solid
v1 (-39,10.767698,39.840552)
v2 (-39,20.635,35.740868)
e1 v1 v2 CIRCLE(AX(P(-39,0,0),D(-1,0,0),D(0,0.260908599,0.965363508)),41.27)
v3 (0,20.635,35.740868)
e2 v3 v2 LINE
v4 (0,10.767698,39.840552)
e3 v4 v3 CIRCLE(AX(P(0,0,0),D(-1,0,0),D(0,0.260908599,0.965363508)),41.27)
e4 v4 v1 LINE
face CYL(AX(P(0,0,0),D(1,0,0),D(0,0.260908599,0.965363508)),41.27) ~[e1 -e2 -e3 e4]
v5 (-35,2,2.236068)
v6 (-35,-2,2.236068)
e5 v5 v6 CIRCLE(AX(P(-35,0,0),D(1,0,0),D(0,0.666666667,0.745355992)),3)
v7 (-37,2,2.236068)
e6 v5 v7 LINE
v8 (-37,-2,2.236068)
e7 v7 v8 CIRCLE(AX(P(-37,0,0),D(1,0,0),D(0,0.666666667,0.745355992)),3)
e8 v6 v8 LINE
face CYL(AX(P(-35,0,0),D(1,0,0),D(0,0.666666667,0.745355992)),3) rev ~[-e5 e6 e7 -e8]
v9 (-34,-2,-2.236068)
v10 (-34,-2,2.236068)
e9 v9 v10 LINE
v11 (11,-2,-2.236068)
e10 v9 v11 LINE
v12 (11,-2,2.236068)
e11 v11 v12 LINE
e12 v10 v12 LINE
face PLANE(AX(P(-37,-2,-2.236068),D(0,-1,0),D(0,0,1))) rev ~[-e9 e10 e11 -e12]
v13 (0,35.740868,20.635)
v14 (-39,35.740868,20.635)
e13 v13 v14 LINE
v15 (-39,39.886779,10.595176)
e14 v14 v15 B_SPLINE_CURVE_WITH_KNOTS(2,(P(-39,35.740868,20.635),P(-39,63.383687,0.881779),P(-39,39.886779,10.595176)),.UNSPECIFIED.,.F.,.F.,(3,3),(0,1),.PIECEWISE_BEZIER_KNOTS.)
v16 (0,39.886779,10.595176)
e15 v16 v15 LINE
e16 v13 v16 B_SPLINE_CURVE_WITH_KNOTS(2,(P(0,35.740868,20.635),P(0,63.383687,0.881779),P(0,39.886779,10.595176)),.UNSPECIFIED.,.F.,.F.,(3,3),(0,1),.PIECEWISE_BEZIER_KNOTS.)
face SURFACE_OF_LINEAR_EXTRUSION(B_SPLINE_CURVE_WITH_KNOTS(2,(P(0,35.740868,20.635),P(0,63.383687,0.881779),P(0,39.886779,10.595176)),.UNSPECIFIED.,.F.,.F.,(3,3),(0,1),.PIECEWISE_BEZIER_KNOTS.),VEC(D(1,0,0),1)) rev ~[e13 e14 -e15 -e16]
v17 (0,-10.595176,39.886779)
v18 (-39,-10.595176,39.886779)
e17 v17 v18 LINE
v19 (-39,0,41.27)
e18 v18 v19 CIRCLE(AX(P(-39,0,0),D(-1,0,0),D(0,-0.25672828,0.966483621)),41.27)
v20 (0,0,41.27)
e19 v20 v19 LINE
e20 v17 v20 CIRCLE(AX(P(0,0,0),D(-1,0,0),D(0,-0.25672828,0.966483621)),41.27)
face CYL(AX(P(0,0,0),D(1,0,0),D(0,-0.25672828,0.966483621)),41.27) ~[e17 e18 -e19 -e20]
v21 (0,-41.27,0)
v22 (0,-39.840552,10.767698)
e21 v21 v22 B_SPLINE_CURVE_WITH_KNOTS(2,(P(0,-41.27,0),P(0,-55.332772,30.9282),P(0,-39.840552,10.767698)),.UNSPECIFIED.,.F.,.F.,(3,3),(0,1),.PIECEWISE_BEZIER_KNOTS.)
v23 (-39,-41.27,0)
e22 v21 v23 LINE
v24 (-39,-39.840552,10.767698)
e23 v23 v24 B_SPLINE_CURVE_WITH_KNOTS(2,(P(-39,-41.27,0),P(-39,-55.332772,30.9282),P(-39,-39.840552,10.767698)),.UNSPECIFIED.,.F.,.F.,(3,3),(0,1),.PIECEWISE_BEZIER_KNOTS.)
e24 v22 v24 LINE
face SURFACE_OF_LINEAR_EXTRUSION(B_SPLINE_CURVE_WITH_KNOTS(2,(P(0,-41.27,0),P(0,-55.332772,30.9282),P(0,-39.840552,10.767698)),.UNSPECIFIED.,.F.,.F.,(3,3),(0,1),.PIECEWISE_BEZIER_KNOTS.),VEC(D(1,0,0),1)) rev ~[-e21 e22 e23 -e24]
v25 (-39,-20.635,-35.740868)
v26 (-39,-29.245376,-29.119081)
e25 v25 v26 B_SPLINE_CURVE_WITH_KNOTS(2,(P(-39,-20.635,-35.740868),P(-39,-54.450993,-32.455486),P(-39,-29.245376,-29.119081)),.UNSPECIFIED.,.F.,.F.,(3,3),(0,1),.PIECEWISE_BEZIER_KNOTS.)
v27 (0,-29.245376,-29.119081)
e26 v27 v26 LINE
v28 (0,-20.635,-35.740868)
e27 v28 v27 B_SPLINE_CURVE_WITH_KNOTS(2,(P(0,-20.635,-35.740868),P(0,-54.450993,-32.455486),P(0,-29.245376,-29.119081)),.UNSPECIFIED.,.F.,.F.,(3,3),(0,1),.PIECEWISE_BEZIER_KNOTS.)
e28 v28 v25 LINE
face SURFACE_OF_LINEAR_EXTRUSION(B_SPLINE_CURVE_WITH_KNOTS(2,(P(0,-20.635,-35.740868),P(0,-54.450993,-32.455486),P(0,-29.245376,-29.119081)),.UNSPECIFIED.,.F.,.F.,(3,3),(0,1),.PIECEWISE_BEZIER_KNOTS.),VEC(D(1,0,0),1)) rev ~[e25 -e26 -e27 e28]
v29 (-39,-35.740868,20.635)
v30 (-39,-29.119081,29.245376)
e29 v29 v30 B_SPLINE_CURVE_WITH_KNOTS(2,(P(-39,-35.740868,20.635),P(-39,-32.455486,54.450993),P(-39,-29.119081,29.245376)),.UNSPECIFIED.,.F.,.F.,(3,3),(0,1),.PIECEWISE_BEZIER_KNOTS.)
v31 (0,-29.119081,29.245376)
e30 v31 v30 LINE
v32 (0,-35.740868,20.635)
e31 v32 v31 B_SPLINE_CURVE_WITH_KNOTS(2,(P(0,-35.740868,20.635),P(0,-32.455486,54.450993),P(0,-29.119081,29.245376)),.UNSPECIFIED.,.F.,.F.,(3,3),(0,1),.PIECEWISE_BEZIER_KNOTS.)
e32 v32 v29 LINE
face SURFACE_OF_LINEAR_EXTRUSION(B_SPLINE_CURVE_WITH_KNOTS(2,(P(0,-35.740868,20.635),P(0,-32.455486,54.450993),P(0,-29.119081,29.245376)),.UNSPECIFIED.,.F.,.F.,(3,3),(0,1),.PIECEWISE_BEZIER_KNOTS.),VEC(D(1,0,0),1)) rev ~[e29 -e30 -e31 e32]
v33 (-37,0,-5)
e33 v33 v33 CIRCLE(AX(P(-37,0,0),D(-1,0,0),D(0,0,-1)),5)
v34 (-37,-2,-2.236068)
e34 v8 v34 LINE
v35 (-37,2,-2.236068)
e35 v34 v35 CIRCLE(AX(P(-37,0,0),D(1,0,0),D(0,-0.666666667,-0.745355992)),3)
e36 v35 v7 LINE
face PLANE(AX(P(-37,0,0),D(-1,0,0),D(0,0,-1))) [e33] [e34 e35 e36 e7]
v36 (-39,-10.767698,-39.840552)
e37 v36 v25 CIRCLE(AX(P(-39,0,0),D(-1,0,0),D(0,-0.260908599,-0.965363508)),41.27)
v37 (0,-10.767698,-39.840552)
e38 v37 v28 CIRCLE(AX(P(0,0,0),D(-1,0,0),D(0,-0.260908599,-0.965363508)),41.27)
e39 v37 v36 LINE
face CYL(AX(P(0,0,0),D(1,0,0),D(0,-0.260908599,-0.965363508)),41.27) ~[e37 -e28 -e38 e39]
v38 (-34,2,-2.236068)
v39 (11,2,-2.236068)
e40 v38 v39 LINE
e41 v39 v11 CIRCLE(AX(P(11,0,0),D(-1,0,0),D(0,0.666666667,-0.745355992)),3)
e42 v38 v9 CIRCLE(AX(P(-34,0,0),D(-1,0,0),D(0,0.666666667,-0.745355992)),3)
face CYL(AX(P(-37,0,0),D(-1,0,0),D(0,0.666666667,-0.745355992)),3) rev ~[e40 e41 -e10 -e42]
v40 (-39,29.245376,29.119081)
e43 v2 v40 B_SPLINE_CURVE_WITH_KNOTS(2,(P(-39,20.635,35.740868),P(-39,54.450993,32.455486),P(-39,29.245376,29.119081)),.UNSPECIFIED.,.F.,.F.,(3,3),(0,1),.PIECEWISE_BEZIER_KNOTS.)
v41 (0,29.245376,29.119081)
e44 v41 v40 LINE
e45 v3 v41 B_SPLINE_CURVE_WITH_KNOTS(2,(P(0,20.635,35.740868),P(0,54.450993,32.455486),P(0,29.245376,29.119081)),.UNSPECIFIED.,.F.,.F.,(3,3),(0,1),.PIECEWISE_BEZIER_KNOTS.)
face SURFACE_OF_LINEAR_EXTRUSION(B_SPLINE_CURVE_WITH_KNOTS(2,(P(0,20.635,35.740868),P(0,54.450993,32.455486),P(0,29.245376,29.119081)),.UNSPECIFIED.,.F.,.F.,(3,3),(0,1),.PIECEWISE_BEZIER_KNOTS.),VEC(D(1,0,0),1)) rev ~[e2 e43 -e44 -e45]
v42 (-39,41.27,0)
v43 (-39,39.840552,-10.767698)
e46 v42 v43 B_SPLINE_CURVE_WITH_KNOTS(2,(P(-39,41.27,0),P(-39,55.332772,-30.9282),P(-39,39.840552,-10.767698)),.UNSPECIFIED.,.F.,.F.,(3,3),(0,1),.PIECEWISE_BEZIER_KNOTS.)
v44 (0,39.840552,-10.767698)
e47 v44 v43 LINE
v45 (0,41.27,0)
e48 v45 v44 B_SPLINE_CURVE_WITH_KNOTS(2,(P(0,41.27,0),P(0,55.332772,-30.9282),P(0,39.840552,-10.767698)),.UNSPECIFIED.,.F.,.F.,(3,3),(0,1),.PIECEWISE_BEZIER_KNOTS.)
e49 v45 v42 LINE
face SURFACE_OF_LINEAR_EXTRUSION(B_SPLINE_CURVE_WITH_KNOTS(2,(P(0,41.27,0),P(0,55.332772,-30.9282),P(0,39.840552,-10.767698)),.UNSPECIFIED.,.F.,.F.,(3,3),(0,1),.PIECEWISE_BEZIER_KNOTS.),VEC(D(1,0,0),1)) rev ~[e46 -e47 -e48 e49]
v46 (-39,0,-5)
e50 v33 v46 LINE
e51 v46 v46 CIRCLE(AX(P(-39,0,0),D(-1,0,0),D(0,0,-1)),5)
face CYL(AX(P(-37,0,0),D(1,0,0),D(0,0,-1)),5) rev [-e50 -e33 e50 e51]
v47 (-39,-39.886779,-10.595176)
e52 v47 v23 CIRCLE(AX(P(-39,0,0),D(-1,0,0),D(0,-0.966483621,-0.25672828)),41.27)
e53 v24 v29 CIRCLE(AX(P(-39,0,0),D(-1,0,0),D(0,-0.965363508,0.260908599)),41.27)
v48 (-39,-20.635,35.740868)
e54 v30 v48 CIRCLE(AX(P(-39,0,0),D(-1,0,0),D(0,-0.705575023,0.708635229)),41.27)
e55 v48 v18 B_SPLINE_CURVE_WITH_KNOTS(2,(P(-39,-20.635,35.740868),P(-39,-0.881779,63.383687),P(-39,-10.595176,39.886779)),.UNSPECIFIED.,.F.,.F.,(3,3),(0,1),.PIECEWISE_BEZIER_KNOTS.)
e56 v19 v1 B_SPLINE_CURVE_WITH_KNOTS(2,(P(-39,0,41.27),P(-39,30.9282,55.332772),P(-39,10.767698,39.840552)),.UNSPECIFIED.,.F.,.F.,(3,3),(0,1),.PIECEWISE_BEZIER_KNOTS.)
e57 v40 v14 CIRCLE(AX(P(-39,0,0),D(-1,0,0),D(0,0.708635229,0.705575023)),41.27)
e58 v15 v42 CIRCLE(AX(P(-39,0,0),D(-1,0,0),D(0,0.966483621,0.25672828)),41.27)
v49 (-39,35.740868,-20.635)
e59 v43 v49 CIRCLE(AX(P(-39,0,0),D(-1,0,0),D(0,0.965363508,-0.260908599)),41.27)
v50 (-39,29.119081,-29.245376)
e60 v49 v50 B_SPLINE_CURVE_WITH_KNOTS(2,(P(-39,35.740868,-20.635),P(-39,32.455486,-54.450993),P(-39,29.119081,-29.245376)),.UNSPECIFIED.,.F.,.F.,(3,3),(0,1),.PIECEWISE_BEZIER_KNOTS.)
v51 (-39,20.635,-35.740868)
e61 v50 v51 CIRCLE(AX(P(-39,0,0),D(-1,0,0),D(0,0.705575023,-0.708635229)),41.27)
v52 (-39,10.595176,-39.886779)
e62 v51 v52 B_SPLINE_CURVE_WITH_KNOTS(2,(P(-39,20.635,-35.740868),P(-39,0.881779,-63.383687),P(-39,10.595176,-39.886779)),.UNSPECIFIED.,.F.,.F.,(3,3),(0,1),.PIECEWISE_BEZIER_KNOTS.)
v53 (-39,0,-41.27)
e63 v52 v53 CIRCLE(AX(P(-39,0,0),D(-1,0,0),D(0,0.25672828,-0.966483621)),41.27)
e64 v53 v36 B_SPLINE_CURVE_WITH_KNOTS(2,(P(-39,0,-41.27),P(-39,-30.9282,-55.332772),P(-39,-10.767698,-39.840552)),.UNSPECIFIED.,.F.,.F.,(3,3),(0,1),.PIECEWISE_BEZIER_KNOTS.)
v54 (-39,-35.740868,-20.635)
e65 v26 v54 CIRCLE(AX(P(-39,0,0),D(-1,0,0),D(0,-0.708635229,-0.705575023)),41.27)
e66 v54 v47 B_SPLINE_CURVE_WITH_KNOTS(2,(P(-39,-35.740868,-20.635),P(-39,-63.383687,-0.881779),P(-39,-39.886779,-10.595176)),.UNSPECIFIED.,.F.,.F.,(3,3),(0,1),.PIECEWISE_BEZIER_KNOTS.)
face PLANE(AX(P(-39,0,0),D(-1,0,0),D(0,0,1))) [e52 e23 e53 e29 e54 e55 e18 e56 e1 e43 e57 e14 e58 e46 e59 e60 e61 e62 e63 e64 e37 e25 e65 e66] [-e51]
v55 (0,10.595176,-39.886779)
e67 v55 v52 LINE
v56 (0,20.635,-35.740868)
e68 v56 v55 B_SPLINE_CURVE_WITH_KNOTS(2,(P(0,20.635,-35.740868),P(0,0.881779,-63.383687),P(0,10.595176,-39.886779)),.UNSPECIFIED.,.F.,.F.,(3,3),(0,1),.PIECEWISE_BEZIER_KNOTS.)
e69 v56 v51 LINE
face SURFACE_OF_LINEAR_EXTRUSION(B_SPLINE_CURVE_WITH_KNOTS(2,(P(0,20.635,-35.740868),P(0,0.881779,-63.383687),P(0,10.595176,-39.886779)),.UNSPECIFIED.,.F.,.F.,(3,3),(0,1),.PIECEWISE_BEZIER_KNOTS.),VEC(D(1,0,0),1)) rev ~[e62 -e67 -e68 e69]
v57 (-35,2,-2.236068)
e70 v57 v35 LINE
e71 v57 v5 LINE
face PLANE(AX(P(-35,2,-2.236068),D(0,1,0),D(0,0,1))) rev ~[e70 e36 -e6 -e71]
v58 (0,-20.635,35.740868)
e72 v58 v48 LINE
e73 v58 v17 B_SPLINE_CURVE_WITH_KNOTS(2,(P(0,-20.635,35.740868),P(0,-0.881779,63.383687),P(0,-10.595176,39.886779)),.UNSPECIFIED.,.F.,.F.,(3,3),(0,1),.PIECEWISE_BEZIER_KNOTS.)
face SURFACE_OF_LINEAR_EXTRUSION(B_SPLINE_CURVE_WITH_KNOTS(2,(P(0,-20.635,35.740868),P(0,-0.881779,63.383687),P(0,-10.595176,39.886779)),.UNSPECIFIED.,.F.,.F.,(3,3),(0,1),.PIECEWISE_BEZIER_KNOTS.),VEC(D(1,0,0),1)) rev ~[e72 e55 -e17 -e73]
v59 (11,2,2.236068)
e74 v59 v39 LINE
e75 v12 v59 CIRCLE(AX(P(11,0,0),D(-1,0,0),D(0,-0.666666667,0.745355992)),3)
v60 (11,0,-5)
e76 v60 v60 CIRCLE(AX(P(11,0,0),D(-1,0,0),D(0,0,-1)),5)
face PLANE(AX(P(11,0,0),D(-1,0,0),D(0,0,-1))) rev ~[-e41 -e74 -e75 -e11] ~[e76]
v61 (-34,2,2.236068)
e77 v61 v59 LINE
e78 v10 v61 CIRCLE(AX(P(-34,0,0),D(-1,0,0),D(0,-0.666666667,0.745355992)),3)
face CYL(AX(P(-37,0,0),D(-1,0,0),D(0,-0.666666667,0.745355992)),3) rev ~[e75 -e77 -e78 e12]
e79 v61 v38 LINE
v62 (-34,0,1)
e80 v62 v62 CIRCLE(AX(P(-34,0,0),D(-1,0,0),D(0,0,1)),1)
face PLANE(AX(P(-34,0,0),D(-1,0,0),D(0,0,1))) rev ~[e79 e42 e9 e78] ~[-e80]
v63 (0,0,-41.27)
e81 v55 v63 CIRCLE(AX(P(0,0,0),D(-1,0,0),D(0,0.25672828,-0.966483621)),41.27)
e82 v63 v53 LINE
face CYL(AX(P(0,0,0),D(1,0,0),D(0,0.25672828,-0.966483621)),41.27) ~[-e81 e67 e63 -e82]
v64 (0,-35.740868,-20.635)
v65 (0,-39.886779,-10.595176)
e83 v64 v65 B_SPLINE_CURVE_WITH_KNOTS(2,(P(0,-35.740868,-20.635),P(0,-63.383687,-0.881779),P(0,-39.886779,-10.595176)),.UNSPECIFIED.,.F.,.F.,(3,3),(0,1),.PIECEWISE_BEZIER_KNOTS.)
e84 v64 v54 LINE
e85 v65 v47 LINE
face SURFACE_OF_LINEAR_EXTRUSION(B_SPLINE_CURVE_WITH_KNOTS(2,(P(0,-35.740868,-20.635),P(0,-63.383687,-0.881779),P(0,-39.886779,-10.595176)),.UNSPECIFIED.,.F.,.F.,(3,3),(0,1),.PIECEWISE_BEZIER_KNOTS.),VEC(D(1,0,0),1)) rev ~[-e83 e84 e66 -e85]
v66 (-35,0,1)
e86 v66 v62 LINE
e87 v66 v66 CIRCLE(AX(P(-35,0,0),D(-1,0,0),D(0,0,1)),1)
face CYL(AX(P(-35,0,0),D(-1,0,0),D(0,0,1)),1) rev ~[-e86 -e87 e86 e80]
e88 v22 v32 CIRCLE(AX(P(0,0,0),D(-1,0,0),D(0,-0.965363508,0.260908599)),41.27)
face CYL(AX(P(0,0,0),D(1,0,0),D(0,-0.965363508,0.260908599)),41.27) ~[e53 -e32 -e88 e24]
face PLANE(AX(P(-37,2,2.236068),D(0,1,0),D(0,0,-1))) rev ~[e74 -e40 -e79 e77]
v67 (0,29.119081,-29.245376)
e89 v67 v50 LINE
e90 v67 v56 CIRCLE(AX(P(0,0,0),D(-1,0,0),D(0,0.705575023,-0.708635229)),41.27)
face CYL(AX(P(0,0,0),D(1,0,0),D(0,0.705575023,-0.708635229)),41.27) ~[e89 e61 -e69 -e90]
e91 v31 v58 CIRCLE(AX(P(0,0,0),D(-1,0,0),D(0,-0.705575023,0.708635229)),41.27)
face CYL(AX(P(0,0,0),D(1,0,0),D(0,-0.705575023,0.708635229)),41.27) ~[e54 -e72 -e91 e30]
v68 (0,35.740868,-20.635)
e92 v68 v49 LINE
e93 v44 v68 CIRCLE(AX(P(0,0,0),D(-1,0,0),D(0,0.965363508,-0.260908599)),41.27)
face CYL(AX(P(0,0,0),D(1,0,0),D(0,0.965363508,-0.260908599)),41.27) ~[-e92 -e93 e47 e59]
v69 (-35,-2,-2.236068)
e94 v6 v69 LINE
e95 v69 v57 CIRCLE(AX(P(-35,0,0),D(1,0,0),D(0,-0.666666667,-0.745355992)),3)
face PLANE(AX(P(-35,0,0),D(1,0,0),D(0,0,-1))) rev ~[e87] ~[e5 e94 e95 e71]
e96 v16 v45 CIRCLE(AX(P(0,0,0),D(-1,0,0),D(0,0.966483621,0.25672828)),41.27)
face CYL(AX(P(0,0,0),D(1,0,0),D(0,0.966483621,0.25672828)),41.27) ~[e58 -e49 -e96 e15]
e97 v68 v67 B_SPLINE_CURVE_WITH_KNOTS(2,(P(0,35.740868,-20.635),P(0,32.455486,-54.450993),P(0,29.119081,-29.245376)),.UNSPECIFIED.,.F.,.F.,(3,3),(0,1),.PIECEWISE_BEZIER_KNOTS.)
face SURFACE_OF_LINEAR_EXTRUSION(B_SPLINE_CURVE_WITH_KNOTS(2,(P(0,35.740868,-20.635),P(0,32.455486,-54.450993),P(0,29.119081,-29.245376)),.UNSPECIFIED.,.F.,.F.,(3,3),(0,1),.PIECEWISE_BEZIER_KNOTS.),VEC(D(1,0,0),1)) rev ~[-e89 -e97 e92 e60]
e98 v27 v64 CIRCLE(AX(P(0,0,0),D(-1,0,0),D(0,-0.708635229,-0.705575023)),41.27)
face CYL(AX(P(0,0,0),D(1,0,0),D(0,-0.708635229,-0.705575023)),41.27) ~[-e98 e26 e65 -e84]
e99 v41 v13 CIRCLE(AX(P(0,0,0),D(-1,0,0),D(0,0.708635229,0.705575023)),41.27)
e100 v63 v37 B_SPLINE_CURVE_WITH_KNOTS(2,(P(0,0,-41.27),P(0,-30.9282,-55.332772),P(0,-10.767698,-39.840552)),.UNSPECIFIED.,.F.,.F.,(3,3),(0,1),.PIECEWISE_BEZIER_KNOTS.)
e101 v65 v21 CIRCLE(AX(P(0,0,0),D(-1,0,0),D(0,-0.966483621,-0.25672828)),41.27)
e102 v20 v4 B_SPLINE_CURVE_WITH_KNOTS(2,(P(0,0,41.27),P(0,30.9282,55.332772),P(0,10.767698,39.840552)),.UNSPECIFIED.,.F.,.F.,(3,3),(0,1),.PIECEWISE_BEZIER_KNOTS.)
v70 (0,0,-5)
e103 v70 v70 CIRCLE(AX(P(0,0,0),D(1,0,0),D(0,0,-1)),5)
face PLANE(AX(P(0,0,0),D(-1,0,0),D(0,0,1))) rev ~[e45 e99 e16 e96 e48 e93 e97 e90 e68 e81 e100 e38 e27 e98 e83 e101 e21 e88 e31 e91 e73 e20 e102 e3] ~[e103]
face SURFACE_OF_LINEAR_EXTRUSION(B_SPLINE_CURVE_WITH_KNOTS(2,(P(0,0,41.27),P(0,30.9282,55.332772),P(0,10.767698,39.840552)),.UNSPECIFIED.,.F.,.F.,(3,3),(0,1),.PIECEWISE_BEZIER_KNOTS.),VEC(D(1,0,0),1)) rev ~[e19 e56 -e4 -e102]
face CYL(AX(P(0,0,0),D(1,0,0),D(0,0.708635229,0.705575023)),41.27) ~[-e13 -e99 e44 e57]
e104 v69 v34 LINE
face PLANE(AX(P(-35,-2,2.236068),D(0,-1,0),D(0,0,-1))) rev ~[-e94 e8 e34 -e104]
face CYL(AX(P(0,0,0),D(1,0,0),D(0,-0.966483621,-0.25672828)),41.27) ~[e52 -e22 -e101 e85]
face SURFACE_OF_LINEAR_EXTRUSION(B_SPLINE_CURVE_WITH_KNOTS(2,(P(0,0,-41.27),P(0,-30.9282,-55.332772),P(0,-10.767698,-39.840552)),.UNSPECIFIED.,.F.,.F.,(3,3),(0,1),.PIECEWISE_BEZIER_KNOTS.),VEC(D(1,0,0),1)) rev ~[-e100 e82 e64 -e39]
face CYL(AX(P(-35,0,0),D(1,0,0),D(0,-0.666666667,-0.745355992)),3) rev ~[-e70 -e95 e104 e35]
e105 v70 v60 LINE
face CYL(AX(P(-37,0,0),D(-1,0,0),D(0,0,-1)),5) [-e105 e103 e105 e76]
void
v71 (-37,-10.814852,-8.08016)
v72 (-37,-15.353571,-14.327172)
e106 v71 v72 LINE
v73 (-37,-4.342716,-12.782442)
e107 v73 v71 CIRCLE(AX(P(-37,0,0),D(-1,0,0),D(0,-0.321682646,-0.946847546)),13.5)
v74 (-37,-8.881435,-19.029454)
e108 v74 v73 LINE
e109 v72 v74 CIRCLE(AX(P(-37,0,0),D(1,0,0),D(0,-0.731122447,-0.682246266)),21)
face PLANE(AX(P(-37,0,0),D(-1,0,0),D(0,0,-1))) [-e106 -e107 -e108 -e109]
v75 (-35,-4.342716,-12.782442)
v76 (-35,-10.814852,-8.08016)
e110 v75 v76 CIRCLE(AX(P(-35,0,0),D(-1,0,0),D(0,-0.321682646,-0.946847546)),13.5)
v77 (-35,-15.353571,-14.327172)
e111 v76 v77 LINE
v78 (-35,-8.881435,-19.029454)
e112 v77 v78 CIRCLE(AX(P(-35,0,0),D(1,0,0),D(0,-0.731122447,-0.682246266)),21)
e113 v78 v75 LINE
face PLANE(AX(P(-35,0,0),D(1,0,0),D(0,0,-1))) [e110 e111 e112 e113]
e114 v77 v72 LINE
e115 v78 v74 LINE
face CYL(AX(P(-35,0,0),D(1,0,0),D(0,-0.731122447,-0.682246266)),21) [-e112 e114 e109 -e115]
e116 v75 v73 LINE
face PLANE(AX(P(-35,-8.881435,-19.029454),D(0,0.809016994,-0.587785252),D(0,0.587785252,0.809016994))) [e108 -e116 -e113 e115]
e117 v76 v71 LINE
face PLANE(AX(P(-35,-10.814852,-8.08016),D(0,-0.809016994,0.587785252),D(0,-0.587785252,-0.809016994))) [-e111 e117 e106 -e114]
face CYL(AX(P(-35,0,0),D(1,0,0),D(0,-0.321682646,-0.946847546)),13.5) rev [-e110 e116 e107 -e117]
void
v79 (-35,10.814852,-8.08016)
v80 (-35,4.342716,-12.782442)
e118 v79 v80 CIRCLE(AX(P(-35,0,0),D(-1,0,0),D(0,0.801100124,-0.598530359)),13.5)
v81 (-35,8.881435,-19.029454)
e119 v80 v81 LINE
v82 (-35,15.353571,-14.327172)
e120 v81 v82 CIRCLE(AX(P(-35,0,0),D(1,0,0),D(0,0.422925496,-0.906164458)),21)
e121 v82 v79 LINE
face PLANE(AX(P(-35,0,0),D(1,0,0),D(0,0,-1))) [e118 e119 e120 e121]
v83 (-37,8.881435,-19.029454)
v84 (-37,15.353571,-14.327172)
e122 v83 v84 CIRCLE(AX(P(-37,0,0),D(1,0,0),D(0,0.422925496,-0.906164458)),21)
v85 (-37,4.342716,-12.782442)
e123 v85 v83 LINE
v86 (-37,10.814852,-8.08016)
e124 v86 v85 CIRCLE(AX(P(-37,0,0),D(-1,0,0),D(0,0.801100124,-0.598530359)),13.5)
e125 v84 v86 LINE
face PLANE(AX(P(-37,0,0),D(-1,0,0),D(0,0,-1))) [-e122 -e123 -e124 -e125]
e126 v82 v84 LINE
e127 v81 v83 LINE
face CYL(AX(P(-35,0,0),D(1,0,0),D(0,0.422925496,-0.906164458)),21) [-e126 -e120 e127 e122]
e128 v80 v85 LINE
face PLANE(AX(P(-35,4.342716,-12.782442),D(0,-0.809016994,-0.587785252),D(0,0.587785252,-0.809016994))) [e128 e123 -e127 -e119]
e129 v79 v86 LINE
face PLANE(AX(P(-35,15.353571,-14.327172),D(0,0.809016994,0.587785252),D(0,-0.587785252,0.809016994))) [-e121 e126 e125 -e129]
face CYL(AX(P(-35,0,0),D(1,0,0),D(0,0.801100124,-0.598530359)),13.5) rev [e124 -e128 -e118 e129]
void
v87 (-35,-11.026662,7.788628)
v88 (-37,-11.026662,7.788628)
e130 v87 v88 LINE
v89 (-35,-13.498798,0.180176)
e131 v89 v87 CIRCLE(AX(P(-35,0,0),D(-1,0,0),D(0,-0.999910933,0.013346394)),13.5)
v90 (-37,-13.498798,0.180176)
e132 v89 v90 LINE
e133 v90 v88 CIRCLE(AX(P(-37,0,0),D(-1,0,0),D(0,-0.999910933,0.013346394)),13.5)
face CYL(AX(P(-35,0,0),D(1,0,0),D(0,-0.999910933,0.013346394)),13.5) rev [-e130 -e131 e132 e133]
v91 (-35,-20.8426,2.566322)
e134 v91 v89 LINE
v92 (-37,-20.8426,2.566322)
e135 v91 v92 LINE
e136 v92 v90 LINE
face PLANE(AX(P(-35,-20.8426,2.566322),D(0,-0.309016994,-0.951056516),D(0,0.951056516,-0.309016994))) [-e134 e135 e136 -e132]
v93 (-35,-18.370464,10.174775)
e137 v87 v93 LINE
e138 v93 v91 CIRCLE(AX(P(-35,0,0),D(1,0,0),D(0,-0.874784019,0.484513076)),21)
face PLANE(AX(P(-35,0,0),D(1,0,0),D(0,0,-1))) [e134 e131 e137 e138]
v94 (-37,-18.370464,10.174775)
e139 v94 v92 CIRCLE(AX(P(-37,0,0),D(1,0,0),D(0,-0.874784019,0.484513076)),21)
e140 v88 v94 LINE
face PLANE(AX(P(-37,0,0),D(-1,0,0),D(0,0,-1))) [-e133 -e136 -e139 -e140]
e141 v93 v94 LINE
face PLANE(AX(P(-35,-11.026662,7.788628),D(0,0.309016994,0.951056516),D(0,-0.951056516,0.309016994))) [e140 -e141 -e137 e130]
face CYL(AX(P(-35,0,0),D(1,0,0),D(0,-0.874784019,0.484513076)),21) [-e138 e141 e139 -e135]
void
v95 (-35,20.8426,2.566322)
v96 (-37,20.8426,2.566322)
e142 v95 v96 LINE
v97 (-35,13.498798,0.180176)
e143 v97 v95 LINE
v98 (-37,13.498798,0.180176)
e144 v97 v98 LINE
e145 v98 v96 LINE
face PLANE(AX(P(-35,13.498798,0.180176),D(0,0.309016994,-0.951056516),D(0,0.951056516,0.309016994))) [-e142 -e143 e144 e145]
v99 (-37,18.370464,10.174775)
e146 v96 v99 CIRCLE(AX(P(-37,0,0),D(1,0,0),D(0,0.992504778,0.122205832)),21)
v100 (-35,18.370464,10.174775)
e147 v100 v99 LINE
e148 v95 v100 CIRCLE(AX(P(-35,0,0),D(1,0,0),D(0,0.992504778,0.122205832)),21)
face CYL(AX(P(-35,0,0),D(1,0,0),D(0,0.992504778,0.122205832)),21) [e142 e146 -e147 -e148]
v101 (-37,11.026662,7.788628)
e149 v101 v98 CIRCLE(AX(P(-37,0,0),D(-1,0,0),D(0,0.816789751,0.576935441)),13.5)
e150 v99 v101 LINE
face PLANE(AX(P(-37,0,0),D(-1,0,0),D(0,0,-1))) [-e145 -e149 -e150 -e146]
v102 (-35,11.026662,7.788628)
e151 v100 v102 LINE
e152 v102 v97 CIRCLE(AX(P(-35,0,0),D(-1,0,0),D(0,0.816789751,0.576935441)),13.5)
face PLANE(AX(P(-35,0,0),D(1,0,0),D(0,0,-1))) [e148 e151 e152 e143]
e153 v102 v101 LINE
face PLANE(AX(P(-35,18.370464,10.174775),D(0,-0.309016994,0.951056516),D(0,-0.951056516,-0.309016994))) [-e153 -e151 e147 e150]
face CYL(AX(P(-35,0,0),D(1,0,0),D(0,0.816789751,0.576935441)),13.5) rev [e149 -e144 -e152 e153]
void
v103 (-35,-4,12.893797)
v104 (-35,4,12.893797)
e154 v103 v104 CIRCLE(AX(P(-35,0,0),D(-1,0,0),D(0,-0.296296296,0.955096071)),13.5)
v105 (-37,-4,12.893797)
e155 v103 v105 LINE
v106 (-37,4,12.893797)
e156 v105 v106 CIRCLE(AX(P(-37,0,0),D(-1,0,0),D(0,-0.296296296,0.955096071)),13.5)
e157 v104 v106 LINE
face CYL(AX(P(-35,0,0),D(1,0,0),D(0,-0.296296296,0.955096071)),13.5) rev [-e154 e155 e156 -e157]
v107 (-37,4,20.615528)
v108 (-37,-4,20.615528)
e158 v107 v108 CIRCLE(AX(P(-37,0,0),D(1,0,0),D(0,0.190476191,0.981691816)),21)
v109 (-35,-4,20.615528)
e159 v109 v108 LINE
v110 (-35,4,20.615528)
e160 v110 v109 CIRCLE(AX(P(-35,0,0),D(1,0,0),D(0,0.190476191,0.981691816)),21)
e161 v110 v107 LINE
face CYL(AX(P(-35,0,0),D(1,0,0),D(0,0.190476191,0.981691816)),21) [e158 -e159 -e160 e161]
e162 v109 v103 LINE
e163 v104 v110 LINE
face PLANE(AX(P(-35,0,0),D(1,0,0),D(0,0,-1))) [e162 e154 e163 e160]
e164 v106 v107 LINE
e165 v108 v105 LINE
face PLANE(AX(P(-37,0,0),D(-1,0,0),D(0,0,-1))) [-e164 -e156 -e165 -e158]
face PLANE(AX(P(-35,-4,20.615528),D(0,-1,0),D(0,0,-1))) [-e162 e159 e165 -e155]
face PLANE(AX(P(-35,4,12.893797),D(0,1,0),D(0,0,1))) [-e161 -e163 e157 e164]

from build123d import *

# Parameters (mm, degrees)
SKETCH1_R           = 32.5
SKETCH1_R_2         = 5
BOSS_EXTRUDE1_DEPTH = 35
SKETCH2_R           = 8.5
SKETCH2_R_2         = 1
BOSS_EXTRUDE2_DEPTH = 1
SKETCH3_R           = 32.5
BOSS_EXTRUDE4_DEPTH = 2
SKETCH4_R           = 32.5
SKETCH4_R_2         = 5
BOSS_EXTRUDE5_DEPTH = 2
SKETCH5_R           = 5
BOSS_EXTRUDE6_DEPTH = 48
BOSS_EXTRUDE7_START = -39
SKETCH6_R           = 32.5
BOSS_EXTRUDE7_DEPTH = 39


with BuildPart() as part:
    # Sketch1 → Boss-Extrude1 (new body)
    with BuildSketch(Plane(origin=(0, 0, 0), x_dir=(0, 0, -1), z_dir=(1, 0, 0))):
        Circle(SKETCH1_R)
        Circle(SKETCH1_R_2, mode=Mode.SUBTRACT)
    extrude(amount=-BOSS_EXTRUDE1_DEPTH)



with BuildPart() as body_2:
    # Sketch2 → Boss-Extrude2 (new body)
    with BuildSketch(Plane.ZY.offset(35)):
        Circle(SKETCH2_R)
        Circle(SKETCH2_R_2, mode=Mode.SUBTRACT)
    extrude(amount=-BOSS_EXTRUDE2_DEPTH)


with BuildPart() as part_1:
    add(part.part)

    add(body_2.part)  # Boss-Extrude4 merges body 2
    # Sketch3 → Boss-Extrude4 (add)
    with BuildSketch(Plane.ZY.offset(35)):
        with Locations(Location((0, 0, 0), (0, 0, 180))):
            Circle(SKETCH3_R)
        with BuildLine():
            Line((12.893796958, 4), (20.615528128, 4))
            ThreePointArc((20.615528128, 4), (21, 0), (20.615528128, -4))
            Line((20.615528128, -4), (12.893796958, -4))
            ThreePointArc((12.893796958, -4), (13.5, 0), (12.893796958, 4))
        make_face(mode=Mode.SUBTRACT)
        with BuildLine():
            Line((7.788628447, -11.026661639), (10.174774605, -18.370464386))
            ThreePointArc((10.174774605, -18.370464386), (6.489356882, -19.972186842), (2.566322474, -20.842600341))
            Line((2.566322474, -20.842600341), (0.180176317, -13.498797594))
            ThreePointArc((0.180176317, -13.498797594), (4.171729424, -12.83926297), (7.788628447, -11.026661639))
        make_face(mode=Mode.SUBTRACT)
        with BuildLine():
            Line((-8.080159852, -10.814851676), (-14.327171594, -15.353571379))
            ThreePointArc((-14.327171594, -15.353571379), (-16.989356882, -12.343490298), (-19.029453613, -8.881435424))
            Line((-19.029453613, -8.881435424), (-12.78244187, -4.342715721))
            ThreePointArc((-12.78244187, -4.342715721), (-10.921729424, -7.935100906), (-8.080159852, -10.814851676))
        make_face(mode=Mode.SUBTRACT)
        with BuildLine():
            Line((-12.78244187, 4.342715721), (-19.029453613, 8.881435424))
            ThreePointArc((-19.029453613, 8.881435424), (-16.989356882, 12.343490298), (-14.327171594, 15.353571379))
            Line((-14.327171594, 15.353571379), (-8.080159852, 10.814851676))
            ThreePointArc((-8.080159852, 10.814851676), (-10.921729424, 7.935100906), (-12.78244187, 4.342715721))
        make_face(mode=Mode.SUBTRACT)
        with BuildLine():
            Line((0.180176317, 13.498797594), (2.566322474, 20.842600341))
            ThreePointArc((2.566322474, 20.842600341), (6.489356882, 19.972186842), (10.174774605, 18.370464386))
            Line((10.174774605, 18.370464386), (7.788628447, 11.026661639))
            ThreePointArc((7.788628447, 11.026661639), (4.171729424, 12.83926297), (0.180176317, 13.498797594))
        make_face(mode=Mode.SUBTRACT)
        with BuildLine():
            Line((-2.236067977, 2), (2.236067977, 2))
            ThreePointArc((2.236067977, 2), (3, 0), (2.236067977, -2))
            Line((2.236067977, -2), (-2.236067977, -2))
            ThreePointArc((-2.236067977, -2), (-3, 0), (-2.236067977, 2))
        make_face(mode=Mode.SUBTRACT)
    extrude(amount=BOSS_EXTRUDE4_DEPTH)

    # Sketch4 → Boss-Extrude5 (add)
    with BuildSketch(Plane.ZY.offset(37)):
        with Locations(Location((0, 0, 0), (0, 0, 180))):
            Circle(SKETCH4_R)
        with Locations(Location((0, 0, 0), (0, 0, 180))):
            Circle(SKETCH4_R_2, mode=Mode.SUBTRACT)
    extrude(amount=BOSS_EXTRUDE5_DEPTH)



with BuildPart() as body_2_2:
    # Sketch5 → Boss-Extrude6 (new body)
    with BuildSketch(Plane.ZY.offset(37)):
        with Locations(Location((0, 0, 0), (0, 0, 180))):
            Circle(SKETCH5_R)
        with BuildLine():
            Line((2.236067977, 2), (-2.236067977, 2))
            ThreePointArc((-2.236067977, 2), (-3, 0), (-2.236067977, -2))
            Line((-2.236067977, -2), (2.236067977, -2))
            ThreePointArc((2.236067977, -2), (3, 0), (2.236067977, 2))
        make_face(mode=Mode.SUBTRACT)
    extrude(amount=-BOSS_EXTRUDE6_DEPTH)


with BuildPart() as part_2:
    add(part_1.part)

    add(body_2_2.part)  # Boss-Extrude7 merges body 2 2
    # Sketch6 → Boss-Extrude7 (add)
    with BuildSketch(Plane.ZY.offset(39).offset(BOSS_EXTRUDE7_START)):
        with BuildLine():
            ThreePointArc((-29.245375884, 29.119081191), (-32.76885557, 25.088144702), (-35.740868414, 20.635))
            add(Edge.make_bspline(
                [(-35.740868414, 20.635), (-63.383686698, 0.881779004), (-39.886779054, 10.595176105)],
                knots=[0, 0, 0, 1, 1, 1], degree=2))
            ThreePointArc((-39.886779054, 10.595176105), (-40.922733728, 5.342542861), (-41.27, 0))
            add(Edge.make_bspline(
                [(-41.27, 0), (-55.332772368, -30.928200331), (-39.840551988, -10.767697863)],
                knots=[0, 0, 0, 1, 1, 1], degree=2))
            ThreePointArc((-39.840551988, -10.767697863), (-38.111398431, -15.834589026), (-35.740868414, -20.635))
            add(Edge.make_bspline(
                [(-35.740868414, -20.635), (-32.455486367, -54.450993364), (-29.119081191, -29.245375884)],
                knots=[0, 0, 0, 1, 1, 1], degree=2))
            ThreePointArc((-29.119081191, -29.245375884), (-25.088144702, -32.76885557), (-20.635, -35.740868414))
            add(Edge.make_bspline(
                [(-20.635, -35.740868414), (-0.881779004, -63.383686698), (-10.595176105, -39.886779054)],
                knots=[0, 0, 0, 1, 1, 1], degree=2))
            ThreePointArc((-10.595176105, -39.886779054), (-5.342542861, -40.922733728), (0, -41.27))
            add(Edge.make_bspline(
                [(0, -41.27), (30.928200331, -55.332772368), (10.767697863, -39.840551988)],
                knots=[0, 0, 0, 1, 1, 1], degree=2))
            ThreePointArc((10.767697863, -39.840551988), (15.834589026, -38.111398431), (20.635, -35.740868414))
            add(Edge.make_bspline(
                [(20.635, -35.740868414), (54.450993364, -32.455486367), (29.245375884, -29.119081191)],
                knots=[0, 0, 0, 1, 1, 1], degree=2))
            ThreePointArc((29.245375884, -29.119081191), (32.76885557, -25.088144702), (35.740868414, -20.635))
            add(Edge.make_bspline(
                [(35.740868414, -20.635), (63.383686698, -0.881779004), (39.886779054, -10.595176105)],
                knots=[0, 0, 0, 1, 1, 1], degree=2))
            ThreePointArc((39.886779054, -10.595176105), (40.922733728, -5.342542861), (41.27, 0))
            add(Edge.make_bspline(
                [(41.27, 0), (55.332772368, 30.928200331), (39.840551988, 10.767697863)],
                knots=[0, 0, 0, 1, 1, 1], degree=2))
            ThreePointArc((39.840551988, 10.767697863), (38.111398431, 15.834589026), (35.740868414, 20.635))
            add(Edge.make_bspline(
                [(35.740868414, 20.635), (32.455486367, 54.450993364), (29.119081191, 29.245375884)],
                knots=[0, 0, 0, 1, 1, 1], degree=2))
            ThreePointArc((29.119081191, 29.245375884), (25.088144702, 32.76885557), (20.635, 35.740868414))
            add(Edge.make_bspline(
                [(20.635, 35.740868414), (0.881779004, 63.383686698), (10.595176105, 39.886779054)],
                knots=[0, 0, 0, 1, 1, 1], degree=2))
            ThreePointArc((10.595176105, 39.886779054), (5.342542861, 40.922733728), (0, 41.27))
            add(Edge.make_bspline(
                [(0, 41.27), (-30.928200331, 55.332772368), (-10.767697863, 39.840551988)],
                knots=[0, 0, 0, 1, 1, 1], degree=2))
            ThreePointArc((-10.767697863, 39.840551988), (-15.834589026, 38.111398431), (-20.635, 35.740868414))
            add(Edge.make_bspline(
                [(-20.635, 35.740868414), (-54.450993364, 32.455486367), (-29.245375884, 29.119081191)],
                knots=[0, 0, 0, 1, 1, 1], degree=2))
        make_face()
        Circle(SKETCH6_R, mode=Mode.SUBTRACT)
    extrude(amount=BOSS_EXTRUDE7_DEPTH)


solid = part_2.part
